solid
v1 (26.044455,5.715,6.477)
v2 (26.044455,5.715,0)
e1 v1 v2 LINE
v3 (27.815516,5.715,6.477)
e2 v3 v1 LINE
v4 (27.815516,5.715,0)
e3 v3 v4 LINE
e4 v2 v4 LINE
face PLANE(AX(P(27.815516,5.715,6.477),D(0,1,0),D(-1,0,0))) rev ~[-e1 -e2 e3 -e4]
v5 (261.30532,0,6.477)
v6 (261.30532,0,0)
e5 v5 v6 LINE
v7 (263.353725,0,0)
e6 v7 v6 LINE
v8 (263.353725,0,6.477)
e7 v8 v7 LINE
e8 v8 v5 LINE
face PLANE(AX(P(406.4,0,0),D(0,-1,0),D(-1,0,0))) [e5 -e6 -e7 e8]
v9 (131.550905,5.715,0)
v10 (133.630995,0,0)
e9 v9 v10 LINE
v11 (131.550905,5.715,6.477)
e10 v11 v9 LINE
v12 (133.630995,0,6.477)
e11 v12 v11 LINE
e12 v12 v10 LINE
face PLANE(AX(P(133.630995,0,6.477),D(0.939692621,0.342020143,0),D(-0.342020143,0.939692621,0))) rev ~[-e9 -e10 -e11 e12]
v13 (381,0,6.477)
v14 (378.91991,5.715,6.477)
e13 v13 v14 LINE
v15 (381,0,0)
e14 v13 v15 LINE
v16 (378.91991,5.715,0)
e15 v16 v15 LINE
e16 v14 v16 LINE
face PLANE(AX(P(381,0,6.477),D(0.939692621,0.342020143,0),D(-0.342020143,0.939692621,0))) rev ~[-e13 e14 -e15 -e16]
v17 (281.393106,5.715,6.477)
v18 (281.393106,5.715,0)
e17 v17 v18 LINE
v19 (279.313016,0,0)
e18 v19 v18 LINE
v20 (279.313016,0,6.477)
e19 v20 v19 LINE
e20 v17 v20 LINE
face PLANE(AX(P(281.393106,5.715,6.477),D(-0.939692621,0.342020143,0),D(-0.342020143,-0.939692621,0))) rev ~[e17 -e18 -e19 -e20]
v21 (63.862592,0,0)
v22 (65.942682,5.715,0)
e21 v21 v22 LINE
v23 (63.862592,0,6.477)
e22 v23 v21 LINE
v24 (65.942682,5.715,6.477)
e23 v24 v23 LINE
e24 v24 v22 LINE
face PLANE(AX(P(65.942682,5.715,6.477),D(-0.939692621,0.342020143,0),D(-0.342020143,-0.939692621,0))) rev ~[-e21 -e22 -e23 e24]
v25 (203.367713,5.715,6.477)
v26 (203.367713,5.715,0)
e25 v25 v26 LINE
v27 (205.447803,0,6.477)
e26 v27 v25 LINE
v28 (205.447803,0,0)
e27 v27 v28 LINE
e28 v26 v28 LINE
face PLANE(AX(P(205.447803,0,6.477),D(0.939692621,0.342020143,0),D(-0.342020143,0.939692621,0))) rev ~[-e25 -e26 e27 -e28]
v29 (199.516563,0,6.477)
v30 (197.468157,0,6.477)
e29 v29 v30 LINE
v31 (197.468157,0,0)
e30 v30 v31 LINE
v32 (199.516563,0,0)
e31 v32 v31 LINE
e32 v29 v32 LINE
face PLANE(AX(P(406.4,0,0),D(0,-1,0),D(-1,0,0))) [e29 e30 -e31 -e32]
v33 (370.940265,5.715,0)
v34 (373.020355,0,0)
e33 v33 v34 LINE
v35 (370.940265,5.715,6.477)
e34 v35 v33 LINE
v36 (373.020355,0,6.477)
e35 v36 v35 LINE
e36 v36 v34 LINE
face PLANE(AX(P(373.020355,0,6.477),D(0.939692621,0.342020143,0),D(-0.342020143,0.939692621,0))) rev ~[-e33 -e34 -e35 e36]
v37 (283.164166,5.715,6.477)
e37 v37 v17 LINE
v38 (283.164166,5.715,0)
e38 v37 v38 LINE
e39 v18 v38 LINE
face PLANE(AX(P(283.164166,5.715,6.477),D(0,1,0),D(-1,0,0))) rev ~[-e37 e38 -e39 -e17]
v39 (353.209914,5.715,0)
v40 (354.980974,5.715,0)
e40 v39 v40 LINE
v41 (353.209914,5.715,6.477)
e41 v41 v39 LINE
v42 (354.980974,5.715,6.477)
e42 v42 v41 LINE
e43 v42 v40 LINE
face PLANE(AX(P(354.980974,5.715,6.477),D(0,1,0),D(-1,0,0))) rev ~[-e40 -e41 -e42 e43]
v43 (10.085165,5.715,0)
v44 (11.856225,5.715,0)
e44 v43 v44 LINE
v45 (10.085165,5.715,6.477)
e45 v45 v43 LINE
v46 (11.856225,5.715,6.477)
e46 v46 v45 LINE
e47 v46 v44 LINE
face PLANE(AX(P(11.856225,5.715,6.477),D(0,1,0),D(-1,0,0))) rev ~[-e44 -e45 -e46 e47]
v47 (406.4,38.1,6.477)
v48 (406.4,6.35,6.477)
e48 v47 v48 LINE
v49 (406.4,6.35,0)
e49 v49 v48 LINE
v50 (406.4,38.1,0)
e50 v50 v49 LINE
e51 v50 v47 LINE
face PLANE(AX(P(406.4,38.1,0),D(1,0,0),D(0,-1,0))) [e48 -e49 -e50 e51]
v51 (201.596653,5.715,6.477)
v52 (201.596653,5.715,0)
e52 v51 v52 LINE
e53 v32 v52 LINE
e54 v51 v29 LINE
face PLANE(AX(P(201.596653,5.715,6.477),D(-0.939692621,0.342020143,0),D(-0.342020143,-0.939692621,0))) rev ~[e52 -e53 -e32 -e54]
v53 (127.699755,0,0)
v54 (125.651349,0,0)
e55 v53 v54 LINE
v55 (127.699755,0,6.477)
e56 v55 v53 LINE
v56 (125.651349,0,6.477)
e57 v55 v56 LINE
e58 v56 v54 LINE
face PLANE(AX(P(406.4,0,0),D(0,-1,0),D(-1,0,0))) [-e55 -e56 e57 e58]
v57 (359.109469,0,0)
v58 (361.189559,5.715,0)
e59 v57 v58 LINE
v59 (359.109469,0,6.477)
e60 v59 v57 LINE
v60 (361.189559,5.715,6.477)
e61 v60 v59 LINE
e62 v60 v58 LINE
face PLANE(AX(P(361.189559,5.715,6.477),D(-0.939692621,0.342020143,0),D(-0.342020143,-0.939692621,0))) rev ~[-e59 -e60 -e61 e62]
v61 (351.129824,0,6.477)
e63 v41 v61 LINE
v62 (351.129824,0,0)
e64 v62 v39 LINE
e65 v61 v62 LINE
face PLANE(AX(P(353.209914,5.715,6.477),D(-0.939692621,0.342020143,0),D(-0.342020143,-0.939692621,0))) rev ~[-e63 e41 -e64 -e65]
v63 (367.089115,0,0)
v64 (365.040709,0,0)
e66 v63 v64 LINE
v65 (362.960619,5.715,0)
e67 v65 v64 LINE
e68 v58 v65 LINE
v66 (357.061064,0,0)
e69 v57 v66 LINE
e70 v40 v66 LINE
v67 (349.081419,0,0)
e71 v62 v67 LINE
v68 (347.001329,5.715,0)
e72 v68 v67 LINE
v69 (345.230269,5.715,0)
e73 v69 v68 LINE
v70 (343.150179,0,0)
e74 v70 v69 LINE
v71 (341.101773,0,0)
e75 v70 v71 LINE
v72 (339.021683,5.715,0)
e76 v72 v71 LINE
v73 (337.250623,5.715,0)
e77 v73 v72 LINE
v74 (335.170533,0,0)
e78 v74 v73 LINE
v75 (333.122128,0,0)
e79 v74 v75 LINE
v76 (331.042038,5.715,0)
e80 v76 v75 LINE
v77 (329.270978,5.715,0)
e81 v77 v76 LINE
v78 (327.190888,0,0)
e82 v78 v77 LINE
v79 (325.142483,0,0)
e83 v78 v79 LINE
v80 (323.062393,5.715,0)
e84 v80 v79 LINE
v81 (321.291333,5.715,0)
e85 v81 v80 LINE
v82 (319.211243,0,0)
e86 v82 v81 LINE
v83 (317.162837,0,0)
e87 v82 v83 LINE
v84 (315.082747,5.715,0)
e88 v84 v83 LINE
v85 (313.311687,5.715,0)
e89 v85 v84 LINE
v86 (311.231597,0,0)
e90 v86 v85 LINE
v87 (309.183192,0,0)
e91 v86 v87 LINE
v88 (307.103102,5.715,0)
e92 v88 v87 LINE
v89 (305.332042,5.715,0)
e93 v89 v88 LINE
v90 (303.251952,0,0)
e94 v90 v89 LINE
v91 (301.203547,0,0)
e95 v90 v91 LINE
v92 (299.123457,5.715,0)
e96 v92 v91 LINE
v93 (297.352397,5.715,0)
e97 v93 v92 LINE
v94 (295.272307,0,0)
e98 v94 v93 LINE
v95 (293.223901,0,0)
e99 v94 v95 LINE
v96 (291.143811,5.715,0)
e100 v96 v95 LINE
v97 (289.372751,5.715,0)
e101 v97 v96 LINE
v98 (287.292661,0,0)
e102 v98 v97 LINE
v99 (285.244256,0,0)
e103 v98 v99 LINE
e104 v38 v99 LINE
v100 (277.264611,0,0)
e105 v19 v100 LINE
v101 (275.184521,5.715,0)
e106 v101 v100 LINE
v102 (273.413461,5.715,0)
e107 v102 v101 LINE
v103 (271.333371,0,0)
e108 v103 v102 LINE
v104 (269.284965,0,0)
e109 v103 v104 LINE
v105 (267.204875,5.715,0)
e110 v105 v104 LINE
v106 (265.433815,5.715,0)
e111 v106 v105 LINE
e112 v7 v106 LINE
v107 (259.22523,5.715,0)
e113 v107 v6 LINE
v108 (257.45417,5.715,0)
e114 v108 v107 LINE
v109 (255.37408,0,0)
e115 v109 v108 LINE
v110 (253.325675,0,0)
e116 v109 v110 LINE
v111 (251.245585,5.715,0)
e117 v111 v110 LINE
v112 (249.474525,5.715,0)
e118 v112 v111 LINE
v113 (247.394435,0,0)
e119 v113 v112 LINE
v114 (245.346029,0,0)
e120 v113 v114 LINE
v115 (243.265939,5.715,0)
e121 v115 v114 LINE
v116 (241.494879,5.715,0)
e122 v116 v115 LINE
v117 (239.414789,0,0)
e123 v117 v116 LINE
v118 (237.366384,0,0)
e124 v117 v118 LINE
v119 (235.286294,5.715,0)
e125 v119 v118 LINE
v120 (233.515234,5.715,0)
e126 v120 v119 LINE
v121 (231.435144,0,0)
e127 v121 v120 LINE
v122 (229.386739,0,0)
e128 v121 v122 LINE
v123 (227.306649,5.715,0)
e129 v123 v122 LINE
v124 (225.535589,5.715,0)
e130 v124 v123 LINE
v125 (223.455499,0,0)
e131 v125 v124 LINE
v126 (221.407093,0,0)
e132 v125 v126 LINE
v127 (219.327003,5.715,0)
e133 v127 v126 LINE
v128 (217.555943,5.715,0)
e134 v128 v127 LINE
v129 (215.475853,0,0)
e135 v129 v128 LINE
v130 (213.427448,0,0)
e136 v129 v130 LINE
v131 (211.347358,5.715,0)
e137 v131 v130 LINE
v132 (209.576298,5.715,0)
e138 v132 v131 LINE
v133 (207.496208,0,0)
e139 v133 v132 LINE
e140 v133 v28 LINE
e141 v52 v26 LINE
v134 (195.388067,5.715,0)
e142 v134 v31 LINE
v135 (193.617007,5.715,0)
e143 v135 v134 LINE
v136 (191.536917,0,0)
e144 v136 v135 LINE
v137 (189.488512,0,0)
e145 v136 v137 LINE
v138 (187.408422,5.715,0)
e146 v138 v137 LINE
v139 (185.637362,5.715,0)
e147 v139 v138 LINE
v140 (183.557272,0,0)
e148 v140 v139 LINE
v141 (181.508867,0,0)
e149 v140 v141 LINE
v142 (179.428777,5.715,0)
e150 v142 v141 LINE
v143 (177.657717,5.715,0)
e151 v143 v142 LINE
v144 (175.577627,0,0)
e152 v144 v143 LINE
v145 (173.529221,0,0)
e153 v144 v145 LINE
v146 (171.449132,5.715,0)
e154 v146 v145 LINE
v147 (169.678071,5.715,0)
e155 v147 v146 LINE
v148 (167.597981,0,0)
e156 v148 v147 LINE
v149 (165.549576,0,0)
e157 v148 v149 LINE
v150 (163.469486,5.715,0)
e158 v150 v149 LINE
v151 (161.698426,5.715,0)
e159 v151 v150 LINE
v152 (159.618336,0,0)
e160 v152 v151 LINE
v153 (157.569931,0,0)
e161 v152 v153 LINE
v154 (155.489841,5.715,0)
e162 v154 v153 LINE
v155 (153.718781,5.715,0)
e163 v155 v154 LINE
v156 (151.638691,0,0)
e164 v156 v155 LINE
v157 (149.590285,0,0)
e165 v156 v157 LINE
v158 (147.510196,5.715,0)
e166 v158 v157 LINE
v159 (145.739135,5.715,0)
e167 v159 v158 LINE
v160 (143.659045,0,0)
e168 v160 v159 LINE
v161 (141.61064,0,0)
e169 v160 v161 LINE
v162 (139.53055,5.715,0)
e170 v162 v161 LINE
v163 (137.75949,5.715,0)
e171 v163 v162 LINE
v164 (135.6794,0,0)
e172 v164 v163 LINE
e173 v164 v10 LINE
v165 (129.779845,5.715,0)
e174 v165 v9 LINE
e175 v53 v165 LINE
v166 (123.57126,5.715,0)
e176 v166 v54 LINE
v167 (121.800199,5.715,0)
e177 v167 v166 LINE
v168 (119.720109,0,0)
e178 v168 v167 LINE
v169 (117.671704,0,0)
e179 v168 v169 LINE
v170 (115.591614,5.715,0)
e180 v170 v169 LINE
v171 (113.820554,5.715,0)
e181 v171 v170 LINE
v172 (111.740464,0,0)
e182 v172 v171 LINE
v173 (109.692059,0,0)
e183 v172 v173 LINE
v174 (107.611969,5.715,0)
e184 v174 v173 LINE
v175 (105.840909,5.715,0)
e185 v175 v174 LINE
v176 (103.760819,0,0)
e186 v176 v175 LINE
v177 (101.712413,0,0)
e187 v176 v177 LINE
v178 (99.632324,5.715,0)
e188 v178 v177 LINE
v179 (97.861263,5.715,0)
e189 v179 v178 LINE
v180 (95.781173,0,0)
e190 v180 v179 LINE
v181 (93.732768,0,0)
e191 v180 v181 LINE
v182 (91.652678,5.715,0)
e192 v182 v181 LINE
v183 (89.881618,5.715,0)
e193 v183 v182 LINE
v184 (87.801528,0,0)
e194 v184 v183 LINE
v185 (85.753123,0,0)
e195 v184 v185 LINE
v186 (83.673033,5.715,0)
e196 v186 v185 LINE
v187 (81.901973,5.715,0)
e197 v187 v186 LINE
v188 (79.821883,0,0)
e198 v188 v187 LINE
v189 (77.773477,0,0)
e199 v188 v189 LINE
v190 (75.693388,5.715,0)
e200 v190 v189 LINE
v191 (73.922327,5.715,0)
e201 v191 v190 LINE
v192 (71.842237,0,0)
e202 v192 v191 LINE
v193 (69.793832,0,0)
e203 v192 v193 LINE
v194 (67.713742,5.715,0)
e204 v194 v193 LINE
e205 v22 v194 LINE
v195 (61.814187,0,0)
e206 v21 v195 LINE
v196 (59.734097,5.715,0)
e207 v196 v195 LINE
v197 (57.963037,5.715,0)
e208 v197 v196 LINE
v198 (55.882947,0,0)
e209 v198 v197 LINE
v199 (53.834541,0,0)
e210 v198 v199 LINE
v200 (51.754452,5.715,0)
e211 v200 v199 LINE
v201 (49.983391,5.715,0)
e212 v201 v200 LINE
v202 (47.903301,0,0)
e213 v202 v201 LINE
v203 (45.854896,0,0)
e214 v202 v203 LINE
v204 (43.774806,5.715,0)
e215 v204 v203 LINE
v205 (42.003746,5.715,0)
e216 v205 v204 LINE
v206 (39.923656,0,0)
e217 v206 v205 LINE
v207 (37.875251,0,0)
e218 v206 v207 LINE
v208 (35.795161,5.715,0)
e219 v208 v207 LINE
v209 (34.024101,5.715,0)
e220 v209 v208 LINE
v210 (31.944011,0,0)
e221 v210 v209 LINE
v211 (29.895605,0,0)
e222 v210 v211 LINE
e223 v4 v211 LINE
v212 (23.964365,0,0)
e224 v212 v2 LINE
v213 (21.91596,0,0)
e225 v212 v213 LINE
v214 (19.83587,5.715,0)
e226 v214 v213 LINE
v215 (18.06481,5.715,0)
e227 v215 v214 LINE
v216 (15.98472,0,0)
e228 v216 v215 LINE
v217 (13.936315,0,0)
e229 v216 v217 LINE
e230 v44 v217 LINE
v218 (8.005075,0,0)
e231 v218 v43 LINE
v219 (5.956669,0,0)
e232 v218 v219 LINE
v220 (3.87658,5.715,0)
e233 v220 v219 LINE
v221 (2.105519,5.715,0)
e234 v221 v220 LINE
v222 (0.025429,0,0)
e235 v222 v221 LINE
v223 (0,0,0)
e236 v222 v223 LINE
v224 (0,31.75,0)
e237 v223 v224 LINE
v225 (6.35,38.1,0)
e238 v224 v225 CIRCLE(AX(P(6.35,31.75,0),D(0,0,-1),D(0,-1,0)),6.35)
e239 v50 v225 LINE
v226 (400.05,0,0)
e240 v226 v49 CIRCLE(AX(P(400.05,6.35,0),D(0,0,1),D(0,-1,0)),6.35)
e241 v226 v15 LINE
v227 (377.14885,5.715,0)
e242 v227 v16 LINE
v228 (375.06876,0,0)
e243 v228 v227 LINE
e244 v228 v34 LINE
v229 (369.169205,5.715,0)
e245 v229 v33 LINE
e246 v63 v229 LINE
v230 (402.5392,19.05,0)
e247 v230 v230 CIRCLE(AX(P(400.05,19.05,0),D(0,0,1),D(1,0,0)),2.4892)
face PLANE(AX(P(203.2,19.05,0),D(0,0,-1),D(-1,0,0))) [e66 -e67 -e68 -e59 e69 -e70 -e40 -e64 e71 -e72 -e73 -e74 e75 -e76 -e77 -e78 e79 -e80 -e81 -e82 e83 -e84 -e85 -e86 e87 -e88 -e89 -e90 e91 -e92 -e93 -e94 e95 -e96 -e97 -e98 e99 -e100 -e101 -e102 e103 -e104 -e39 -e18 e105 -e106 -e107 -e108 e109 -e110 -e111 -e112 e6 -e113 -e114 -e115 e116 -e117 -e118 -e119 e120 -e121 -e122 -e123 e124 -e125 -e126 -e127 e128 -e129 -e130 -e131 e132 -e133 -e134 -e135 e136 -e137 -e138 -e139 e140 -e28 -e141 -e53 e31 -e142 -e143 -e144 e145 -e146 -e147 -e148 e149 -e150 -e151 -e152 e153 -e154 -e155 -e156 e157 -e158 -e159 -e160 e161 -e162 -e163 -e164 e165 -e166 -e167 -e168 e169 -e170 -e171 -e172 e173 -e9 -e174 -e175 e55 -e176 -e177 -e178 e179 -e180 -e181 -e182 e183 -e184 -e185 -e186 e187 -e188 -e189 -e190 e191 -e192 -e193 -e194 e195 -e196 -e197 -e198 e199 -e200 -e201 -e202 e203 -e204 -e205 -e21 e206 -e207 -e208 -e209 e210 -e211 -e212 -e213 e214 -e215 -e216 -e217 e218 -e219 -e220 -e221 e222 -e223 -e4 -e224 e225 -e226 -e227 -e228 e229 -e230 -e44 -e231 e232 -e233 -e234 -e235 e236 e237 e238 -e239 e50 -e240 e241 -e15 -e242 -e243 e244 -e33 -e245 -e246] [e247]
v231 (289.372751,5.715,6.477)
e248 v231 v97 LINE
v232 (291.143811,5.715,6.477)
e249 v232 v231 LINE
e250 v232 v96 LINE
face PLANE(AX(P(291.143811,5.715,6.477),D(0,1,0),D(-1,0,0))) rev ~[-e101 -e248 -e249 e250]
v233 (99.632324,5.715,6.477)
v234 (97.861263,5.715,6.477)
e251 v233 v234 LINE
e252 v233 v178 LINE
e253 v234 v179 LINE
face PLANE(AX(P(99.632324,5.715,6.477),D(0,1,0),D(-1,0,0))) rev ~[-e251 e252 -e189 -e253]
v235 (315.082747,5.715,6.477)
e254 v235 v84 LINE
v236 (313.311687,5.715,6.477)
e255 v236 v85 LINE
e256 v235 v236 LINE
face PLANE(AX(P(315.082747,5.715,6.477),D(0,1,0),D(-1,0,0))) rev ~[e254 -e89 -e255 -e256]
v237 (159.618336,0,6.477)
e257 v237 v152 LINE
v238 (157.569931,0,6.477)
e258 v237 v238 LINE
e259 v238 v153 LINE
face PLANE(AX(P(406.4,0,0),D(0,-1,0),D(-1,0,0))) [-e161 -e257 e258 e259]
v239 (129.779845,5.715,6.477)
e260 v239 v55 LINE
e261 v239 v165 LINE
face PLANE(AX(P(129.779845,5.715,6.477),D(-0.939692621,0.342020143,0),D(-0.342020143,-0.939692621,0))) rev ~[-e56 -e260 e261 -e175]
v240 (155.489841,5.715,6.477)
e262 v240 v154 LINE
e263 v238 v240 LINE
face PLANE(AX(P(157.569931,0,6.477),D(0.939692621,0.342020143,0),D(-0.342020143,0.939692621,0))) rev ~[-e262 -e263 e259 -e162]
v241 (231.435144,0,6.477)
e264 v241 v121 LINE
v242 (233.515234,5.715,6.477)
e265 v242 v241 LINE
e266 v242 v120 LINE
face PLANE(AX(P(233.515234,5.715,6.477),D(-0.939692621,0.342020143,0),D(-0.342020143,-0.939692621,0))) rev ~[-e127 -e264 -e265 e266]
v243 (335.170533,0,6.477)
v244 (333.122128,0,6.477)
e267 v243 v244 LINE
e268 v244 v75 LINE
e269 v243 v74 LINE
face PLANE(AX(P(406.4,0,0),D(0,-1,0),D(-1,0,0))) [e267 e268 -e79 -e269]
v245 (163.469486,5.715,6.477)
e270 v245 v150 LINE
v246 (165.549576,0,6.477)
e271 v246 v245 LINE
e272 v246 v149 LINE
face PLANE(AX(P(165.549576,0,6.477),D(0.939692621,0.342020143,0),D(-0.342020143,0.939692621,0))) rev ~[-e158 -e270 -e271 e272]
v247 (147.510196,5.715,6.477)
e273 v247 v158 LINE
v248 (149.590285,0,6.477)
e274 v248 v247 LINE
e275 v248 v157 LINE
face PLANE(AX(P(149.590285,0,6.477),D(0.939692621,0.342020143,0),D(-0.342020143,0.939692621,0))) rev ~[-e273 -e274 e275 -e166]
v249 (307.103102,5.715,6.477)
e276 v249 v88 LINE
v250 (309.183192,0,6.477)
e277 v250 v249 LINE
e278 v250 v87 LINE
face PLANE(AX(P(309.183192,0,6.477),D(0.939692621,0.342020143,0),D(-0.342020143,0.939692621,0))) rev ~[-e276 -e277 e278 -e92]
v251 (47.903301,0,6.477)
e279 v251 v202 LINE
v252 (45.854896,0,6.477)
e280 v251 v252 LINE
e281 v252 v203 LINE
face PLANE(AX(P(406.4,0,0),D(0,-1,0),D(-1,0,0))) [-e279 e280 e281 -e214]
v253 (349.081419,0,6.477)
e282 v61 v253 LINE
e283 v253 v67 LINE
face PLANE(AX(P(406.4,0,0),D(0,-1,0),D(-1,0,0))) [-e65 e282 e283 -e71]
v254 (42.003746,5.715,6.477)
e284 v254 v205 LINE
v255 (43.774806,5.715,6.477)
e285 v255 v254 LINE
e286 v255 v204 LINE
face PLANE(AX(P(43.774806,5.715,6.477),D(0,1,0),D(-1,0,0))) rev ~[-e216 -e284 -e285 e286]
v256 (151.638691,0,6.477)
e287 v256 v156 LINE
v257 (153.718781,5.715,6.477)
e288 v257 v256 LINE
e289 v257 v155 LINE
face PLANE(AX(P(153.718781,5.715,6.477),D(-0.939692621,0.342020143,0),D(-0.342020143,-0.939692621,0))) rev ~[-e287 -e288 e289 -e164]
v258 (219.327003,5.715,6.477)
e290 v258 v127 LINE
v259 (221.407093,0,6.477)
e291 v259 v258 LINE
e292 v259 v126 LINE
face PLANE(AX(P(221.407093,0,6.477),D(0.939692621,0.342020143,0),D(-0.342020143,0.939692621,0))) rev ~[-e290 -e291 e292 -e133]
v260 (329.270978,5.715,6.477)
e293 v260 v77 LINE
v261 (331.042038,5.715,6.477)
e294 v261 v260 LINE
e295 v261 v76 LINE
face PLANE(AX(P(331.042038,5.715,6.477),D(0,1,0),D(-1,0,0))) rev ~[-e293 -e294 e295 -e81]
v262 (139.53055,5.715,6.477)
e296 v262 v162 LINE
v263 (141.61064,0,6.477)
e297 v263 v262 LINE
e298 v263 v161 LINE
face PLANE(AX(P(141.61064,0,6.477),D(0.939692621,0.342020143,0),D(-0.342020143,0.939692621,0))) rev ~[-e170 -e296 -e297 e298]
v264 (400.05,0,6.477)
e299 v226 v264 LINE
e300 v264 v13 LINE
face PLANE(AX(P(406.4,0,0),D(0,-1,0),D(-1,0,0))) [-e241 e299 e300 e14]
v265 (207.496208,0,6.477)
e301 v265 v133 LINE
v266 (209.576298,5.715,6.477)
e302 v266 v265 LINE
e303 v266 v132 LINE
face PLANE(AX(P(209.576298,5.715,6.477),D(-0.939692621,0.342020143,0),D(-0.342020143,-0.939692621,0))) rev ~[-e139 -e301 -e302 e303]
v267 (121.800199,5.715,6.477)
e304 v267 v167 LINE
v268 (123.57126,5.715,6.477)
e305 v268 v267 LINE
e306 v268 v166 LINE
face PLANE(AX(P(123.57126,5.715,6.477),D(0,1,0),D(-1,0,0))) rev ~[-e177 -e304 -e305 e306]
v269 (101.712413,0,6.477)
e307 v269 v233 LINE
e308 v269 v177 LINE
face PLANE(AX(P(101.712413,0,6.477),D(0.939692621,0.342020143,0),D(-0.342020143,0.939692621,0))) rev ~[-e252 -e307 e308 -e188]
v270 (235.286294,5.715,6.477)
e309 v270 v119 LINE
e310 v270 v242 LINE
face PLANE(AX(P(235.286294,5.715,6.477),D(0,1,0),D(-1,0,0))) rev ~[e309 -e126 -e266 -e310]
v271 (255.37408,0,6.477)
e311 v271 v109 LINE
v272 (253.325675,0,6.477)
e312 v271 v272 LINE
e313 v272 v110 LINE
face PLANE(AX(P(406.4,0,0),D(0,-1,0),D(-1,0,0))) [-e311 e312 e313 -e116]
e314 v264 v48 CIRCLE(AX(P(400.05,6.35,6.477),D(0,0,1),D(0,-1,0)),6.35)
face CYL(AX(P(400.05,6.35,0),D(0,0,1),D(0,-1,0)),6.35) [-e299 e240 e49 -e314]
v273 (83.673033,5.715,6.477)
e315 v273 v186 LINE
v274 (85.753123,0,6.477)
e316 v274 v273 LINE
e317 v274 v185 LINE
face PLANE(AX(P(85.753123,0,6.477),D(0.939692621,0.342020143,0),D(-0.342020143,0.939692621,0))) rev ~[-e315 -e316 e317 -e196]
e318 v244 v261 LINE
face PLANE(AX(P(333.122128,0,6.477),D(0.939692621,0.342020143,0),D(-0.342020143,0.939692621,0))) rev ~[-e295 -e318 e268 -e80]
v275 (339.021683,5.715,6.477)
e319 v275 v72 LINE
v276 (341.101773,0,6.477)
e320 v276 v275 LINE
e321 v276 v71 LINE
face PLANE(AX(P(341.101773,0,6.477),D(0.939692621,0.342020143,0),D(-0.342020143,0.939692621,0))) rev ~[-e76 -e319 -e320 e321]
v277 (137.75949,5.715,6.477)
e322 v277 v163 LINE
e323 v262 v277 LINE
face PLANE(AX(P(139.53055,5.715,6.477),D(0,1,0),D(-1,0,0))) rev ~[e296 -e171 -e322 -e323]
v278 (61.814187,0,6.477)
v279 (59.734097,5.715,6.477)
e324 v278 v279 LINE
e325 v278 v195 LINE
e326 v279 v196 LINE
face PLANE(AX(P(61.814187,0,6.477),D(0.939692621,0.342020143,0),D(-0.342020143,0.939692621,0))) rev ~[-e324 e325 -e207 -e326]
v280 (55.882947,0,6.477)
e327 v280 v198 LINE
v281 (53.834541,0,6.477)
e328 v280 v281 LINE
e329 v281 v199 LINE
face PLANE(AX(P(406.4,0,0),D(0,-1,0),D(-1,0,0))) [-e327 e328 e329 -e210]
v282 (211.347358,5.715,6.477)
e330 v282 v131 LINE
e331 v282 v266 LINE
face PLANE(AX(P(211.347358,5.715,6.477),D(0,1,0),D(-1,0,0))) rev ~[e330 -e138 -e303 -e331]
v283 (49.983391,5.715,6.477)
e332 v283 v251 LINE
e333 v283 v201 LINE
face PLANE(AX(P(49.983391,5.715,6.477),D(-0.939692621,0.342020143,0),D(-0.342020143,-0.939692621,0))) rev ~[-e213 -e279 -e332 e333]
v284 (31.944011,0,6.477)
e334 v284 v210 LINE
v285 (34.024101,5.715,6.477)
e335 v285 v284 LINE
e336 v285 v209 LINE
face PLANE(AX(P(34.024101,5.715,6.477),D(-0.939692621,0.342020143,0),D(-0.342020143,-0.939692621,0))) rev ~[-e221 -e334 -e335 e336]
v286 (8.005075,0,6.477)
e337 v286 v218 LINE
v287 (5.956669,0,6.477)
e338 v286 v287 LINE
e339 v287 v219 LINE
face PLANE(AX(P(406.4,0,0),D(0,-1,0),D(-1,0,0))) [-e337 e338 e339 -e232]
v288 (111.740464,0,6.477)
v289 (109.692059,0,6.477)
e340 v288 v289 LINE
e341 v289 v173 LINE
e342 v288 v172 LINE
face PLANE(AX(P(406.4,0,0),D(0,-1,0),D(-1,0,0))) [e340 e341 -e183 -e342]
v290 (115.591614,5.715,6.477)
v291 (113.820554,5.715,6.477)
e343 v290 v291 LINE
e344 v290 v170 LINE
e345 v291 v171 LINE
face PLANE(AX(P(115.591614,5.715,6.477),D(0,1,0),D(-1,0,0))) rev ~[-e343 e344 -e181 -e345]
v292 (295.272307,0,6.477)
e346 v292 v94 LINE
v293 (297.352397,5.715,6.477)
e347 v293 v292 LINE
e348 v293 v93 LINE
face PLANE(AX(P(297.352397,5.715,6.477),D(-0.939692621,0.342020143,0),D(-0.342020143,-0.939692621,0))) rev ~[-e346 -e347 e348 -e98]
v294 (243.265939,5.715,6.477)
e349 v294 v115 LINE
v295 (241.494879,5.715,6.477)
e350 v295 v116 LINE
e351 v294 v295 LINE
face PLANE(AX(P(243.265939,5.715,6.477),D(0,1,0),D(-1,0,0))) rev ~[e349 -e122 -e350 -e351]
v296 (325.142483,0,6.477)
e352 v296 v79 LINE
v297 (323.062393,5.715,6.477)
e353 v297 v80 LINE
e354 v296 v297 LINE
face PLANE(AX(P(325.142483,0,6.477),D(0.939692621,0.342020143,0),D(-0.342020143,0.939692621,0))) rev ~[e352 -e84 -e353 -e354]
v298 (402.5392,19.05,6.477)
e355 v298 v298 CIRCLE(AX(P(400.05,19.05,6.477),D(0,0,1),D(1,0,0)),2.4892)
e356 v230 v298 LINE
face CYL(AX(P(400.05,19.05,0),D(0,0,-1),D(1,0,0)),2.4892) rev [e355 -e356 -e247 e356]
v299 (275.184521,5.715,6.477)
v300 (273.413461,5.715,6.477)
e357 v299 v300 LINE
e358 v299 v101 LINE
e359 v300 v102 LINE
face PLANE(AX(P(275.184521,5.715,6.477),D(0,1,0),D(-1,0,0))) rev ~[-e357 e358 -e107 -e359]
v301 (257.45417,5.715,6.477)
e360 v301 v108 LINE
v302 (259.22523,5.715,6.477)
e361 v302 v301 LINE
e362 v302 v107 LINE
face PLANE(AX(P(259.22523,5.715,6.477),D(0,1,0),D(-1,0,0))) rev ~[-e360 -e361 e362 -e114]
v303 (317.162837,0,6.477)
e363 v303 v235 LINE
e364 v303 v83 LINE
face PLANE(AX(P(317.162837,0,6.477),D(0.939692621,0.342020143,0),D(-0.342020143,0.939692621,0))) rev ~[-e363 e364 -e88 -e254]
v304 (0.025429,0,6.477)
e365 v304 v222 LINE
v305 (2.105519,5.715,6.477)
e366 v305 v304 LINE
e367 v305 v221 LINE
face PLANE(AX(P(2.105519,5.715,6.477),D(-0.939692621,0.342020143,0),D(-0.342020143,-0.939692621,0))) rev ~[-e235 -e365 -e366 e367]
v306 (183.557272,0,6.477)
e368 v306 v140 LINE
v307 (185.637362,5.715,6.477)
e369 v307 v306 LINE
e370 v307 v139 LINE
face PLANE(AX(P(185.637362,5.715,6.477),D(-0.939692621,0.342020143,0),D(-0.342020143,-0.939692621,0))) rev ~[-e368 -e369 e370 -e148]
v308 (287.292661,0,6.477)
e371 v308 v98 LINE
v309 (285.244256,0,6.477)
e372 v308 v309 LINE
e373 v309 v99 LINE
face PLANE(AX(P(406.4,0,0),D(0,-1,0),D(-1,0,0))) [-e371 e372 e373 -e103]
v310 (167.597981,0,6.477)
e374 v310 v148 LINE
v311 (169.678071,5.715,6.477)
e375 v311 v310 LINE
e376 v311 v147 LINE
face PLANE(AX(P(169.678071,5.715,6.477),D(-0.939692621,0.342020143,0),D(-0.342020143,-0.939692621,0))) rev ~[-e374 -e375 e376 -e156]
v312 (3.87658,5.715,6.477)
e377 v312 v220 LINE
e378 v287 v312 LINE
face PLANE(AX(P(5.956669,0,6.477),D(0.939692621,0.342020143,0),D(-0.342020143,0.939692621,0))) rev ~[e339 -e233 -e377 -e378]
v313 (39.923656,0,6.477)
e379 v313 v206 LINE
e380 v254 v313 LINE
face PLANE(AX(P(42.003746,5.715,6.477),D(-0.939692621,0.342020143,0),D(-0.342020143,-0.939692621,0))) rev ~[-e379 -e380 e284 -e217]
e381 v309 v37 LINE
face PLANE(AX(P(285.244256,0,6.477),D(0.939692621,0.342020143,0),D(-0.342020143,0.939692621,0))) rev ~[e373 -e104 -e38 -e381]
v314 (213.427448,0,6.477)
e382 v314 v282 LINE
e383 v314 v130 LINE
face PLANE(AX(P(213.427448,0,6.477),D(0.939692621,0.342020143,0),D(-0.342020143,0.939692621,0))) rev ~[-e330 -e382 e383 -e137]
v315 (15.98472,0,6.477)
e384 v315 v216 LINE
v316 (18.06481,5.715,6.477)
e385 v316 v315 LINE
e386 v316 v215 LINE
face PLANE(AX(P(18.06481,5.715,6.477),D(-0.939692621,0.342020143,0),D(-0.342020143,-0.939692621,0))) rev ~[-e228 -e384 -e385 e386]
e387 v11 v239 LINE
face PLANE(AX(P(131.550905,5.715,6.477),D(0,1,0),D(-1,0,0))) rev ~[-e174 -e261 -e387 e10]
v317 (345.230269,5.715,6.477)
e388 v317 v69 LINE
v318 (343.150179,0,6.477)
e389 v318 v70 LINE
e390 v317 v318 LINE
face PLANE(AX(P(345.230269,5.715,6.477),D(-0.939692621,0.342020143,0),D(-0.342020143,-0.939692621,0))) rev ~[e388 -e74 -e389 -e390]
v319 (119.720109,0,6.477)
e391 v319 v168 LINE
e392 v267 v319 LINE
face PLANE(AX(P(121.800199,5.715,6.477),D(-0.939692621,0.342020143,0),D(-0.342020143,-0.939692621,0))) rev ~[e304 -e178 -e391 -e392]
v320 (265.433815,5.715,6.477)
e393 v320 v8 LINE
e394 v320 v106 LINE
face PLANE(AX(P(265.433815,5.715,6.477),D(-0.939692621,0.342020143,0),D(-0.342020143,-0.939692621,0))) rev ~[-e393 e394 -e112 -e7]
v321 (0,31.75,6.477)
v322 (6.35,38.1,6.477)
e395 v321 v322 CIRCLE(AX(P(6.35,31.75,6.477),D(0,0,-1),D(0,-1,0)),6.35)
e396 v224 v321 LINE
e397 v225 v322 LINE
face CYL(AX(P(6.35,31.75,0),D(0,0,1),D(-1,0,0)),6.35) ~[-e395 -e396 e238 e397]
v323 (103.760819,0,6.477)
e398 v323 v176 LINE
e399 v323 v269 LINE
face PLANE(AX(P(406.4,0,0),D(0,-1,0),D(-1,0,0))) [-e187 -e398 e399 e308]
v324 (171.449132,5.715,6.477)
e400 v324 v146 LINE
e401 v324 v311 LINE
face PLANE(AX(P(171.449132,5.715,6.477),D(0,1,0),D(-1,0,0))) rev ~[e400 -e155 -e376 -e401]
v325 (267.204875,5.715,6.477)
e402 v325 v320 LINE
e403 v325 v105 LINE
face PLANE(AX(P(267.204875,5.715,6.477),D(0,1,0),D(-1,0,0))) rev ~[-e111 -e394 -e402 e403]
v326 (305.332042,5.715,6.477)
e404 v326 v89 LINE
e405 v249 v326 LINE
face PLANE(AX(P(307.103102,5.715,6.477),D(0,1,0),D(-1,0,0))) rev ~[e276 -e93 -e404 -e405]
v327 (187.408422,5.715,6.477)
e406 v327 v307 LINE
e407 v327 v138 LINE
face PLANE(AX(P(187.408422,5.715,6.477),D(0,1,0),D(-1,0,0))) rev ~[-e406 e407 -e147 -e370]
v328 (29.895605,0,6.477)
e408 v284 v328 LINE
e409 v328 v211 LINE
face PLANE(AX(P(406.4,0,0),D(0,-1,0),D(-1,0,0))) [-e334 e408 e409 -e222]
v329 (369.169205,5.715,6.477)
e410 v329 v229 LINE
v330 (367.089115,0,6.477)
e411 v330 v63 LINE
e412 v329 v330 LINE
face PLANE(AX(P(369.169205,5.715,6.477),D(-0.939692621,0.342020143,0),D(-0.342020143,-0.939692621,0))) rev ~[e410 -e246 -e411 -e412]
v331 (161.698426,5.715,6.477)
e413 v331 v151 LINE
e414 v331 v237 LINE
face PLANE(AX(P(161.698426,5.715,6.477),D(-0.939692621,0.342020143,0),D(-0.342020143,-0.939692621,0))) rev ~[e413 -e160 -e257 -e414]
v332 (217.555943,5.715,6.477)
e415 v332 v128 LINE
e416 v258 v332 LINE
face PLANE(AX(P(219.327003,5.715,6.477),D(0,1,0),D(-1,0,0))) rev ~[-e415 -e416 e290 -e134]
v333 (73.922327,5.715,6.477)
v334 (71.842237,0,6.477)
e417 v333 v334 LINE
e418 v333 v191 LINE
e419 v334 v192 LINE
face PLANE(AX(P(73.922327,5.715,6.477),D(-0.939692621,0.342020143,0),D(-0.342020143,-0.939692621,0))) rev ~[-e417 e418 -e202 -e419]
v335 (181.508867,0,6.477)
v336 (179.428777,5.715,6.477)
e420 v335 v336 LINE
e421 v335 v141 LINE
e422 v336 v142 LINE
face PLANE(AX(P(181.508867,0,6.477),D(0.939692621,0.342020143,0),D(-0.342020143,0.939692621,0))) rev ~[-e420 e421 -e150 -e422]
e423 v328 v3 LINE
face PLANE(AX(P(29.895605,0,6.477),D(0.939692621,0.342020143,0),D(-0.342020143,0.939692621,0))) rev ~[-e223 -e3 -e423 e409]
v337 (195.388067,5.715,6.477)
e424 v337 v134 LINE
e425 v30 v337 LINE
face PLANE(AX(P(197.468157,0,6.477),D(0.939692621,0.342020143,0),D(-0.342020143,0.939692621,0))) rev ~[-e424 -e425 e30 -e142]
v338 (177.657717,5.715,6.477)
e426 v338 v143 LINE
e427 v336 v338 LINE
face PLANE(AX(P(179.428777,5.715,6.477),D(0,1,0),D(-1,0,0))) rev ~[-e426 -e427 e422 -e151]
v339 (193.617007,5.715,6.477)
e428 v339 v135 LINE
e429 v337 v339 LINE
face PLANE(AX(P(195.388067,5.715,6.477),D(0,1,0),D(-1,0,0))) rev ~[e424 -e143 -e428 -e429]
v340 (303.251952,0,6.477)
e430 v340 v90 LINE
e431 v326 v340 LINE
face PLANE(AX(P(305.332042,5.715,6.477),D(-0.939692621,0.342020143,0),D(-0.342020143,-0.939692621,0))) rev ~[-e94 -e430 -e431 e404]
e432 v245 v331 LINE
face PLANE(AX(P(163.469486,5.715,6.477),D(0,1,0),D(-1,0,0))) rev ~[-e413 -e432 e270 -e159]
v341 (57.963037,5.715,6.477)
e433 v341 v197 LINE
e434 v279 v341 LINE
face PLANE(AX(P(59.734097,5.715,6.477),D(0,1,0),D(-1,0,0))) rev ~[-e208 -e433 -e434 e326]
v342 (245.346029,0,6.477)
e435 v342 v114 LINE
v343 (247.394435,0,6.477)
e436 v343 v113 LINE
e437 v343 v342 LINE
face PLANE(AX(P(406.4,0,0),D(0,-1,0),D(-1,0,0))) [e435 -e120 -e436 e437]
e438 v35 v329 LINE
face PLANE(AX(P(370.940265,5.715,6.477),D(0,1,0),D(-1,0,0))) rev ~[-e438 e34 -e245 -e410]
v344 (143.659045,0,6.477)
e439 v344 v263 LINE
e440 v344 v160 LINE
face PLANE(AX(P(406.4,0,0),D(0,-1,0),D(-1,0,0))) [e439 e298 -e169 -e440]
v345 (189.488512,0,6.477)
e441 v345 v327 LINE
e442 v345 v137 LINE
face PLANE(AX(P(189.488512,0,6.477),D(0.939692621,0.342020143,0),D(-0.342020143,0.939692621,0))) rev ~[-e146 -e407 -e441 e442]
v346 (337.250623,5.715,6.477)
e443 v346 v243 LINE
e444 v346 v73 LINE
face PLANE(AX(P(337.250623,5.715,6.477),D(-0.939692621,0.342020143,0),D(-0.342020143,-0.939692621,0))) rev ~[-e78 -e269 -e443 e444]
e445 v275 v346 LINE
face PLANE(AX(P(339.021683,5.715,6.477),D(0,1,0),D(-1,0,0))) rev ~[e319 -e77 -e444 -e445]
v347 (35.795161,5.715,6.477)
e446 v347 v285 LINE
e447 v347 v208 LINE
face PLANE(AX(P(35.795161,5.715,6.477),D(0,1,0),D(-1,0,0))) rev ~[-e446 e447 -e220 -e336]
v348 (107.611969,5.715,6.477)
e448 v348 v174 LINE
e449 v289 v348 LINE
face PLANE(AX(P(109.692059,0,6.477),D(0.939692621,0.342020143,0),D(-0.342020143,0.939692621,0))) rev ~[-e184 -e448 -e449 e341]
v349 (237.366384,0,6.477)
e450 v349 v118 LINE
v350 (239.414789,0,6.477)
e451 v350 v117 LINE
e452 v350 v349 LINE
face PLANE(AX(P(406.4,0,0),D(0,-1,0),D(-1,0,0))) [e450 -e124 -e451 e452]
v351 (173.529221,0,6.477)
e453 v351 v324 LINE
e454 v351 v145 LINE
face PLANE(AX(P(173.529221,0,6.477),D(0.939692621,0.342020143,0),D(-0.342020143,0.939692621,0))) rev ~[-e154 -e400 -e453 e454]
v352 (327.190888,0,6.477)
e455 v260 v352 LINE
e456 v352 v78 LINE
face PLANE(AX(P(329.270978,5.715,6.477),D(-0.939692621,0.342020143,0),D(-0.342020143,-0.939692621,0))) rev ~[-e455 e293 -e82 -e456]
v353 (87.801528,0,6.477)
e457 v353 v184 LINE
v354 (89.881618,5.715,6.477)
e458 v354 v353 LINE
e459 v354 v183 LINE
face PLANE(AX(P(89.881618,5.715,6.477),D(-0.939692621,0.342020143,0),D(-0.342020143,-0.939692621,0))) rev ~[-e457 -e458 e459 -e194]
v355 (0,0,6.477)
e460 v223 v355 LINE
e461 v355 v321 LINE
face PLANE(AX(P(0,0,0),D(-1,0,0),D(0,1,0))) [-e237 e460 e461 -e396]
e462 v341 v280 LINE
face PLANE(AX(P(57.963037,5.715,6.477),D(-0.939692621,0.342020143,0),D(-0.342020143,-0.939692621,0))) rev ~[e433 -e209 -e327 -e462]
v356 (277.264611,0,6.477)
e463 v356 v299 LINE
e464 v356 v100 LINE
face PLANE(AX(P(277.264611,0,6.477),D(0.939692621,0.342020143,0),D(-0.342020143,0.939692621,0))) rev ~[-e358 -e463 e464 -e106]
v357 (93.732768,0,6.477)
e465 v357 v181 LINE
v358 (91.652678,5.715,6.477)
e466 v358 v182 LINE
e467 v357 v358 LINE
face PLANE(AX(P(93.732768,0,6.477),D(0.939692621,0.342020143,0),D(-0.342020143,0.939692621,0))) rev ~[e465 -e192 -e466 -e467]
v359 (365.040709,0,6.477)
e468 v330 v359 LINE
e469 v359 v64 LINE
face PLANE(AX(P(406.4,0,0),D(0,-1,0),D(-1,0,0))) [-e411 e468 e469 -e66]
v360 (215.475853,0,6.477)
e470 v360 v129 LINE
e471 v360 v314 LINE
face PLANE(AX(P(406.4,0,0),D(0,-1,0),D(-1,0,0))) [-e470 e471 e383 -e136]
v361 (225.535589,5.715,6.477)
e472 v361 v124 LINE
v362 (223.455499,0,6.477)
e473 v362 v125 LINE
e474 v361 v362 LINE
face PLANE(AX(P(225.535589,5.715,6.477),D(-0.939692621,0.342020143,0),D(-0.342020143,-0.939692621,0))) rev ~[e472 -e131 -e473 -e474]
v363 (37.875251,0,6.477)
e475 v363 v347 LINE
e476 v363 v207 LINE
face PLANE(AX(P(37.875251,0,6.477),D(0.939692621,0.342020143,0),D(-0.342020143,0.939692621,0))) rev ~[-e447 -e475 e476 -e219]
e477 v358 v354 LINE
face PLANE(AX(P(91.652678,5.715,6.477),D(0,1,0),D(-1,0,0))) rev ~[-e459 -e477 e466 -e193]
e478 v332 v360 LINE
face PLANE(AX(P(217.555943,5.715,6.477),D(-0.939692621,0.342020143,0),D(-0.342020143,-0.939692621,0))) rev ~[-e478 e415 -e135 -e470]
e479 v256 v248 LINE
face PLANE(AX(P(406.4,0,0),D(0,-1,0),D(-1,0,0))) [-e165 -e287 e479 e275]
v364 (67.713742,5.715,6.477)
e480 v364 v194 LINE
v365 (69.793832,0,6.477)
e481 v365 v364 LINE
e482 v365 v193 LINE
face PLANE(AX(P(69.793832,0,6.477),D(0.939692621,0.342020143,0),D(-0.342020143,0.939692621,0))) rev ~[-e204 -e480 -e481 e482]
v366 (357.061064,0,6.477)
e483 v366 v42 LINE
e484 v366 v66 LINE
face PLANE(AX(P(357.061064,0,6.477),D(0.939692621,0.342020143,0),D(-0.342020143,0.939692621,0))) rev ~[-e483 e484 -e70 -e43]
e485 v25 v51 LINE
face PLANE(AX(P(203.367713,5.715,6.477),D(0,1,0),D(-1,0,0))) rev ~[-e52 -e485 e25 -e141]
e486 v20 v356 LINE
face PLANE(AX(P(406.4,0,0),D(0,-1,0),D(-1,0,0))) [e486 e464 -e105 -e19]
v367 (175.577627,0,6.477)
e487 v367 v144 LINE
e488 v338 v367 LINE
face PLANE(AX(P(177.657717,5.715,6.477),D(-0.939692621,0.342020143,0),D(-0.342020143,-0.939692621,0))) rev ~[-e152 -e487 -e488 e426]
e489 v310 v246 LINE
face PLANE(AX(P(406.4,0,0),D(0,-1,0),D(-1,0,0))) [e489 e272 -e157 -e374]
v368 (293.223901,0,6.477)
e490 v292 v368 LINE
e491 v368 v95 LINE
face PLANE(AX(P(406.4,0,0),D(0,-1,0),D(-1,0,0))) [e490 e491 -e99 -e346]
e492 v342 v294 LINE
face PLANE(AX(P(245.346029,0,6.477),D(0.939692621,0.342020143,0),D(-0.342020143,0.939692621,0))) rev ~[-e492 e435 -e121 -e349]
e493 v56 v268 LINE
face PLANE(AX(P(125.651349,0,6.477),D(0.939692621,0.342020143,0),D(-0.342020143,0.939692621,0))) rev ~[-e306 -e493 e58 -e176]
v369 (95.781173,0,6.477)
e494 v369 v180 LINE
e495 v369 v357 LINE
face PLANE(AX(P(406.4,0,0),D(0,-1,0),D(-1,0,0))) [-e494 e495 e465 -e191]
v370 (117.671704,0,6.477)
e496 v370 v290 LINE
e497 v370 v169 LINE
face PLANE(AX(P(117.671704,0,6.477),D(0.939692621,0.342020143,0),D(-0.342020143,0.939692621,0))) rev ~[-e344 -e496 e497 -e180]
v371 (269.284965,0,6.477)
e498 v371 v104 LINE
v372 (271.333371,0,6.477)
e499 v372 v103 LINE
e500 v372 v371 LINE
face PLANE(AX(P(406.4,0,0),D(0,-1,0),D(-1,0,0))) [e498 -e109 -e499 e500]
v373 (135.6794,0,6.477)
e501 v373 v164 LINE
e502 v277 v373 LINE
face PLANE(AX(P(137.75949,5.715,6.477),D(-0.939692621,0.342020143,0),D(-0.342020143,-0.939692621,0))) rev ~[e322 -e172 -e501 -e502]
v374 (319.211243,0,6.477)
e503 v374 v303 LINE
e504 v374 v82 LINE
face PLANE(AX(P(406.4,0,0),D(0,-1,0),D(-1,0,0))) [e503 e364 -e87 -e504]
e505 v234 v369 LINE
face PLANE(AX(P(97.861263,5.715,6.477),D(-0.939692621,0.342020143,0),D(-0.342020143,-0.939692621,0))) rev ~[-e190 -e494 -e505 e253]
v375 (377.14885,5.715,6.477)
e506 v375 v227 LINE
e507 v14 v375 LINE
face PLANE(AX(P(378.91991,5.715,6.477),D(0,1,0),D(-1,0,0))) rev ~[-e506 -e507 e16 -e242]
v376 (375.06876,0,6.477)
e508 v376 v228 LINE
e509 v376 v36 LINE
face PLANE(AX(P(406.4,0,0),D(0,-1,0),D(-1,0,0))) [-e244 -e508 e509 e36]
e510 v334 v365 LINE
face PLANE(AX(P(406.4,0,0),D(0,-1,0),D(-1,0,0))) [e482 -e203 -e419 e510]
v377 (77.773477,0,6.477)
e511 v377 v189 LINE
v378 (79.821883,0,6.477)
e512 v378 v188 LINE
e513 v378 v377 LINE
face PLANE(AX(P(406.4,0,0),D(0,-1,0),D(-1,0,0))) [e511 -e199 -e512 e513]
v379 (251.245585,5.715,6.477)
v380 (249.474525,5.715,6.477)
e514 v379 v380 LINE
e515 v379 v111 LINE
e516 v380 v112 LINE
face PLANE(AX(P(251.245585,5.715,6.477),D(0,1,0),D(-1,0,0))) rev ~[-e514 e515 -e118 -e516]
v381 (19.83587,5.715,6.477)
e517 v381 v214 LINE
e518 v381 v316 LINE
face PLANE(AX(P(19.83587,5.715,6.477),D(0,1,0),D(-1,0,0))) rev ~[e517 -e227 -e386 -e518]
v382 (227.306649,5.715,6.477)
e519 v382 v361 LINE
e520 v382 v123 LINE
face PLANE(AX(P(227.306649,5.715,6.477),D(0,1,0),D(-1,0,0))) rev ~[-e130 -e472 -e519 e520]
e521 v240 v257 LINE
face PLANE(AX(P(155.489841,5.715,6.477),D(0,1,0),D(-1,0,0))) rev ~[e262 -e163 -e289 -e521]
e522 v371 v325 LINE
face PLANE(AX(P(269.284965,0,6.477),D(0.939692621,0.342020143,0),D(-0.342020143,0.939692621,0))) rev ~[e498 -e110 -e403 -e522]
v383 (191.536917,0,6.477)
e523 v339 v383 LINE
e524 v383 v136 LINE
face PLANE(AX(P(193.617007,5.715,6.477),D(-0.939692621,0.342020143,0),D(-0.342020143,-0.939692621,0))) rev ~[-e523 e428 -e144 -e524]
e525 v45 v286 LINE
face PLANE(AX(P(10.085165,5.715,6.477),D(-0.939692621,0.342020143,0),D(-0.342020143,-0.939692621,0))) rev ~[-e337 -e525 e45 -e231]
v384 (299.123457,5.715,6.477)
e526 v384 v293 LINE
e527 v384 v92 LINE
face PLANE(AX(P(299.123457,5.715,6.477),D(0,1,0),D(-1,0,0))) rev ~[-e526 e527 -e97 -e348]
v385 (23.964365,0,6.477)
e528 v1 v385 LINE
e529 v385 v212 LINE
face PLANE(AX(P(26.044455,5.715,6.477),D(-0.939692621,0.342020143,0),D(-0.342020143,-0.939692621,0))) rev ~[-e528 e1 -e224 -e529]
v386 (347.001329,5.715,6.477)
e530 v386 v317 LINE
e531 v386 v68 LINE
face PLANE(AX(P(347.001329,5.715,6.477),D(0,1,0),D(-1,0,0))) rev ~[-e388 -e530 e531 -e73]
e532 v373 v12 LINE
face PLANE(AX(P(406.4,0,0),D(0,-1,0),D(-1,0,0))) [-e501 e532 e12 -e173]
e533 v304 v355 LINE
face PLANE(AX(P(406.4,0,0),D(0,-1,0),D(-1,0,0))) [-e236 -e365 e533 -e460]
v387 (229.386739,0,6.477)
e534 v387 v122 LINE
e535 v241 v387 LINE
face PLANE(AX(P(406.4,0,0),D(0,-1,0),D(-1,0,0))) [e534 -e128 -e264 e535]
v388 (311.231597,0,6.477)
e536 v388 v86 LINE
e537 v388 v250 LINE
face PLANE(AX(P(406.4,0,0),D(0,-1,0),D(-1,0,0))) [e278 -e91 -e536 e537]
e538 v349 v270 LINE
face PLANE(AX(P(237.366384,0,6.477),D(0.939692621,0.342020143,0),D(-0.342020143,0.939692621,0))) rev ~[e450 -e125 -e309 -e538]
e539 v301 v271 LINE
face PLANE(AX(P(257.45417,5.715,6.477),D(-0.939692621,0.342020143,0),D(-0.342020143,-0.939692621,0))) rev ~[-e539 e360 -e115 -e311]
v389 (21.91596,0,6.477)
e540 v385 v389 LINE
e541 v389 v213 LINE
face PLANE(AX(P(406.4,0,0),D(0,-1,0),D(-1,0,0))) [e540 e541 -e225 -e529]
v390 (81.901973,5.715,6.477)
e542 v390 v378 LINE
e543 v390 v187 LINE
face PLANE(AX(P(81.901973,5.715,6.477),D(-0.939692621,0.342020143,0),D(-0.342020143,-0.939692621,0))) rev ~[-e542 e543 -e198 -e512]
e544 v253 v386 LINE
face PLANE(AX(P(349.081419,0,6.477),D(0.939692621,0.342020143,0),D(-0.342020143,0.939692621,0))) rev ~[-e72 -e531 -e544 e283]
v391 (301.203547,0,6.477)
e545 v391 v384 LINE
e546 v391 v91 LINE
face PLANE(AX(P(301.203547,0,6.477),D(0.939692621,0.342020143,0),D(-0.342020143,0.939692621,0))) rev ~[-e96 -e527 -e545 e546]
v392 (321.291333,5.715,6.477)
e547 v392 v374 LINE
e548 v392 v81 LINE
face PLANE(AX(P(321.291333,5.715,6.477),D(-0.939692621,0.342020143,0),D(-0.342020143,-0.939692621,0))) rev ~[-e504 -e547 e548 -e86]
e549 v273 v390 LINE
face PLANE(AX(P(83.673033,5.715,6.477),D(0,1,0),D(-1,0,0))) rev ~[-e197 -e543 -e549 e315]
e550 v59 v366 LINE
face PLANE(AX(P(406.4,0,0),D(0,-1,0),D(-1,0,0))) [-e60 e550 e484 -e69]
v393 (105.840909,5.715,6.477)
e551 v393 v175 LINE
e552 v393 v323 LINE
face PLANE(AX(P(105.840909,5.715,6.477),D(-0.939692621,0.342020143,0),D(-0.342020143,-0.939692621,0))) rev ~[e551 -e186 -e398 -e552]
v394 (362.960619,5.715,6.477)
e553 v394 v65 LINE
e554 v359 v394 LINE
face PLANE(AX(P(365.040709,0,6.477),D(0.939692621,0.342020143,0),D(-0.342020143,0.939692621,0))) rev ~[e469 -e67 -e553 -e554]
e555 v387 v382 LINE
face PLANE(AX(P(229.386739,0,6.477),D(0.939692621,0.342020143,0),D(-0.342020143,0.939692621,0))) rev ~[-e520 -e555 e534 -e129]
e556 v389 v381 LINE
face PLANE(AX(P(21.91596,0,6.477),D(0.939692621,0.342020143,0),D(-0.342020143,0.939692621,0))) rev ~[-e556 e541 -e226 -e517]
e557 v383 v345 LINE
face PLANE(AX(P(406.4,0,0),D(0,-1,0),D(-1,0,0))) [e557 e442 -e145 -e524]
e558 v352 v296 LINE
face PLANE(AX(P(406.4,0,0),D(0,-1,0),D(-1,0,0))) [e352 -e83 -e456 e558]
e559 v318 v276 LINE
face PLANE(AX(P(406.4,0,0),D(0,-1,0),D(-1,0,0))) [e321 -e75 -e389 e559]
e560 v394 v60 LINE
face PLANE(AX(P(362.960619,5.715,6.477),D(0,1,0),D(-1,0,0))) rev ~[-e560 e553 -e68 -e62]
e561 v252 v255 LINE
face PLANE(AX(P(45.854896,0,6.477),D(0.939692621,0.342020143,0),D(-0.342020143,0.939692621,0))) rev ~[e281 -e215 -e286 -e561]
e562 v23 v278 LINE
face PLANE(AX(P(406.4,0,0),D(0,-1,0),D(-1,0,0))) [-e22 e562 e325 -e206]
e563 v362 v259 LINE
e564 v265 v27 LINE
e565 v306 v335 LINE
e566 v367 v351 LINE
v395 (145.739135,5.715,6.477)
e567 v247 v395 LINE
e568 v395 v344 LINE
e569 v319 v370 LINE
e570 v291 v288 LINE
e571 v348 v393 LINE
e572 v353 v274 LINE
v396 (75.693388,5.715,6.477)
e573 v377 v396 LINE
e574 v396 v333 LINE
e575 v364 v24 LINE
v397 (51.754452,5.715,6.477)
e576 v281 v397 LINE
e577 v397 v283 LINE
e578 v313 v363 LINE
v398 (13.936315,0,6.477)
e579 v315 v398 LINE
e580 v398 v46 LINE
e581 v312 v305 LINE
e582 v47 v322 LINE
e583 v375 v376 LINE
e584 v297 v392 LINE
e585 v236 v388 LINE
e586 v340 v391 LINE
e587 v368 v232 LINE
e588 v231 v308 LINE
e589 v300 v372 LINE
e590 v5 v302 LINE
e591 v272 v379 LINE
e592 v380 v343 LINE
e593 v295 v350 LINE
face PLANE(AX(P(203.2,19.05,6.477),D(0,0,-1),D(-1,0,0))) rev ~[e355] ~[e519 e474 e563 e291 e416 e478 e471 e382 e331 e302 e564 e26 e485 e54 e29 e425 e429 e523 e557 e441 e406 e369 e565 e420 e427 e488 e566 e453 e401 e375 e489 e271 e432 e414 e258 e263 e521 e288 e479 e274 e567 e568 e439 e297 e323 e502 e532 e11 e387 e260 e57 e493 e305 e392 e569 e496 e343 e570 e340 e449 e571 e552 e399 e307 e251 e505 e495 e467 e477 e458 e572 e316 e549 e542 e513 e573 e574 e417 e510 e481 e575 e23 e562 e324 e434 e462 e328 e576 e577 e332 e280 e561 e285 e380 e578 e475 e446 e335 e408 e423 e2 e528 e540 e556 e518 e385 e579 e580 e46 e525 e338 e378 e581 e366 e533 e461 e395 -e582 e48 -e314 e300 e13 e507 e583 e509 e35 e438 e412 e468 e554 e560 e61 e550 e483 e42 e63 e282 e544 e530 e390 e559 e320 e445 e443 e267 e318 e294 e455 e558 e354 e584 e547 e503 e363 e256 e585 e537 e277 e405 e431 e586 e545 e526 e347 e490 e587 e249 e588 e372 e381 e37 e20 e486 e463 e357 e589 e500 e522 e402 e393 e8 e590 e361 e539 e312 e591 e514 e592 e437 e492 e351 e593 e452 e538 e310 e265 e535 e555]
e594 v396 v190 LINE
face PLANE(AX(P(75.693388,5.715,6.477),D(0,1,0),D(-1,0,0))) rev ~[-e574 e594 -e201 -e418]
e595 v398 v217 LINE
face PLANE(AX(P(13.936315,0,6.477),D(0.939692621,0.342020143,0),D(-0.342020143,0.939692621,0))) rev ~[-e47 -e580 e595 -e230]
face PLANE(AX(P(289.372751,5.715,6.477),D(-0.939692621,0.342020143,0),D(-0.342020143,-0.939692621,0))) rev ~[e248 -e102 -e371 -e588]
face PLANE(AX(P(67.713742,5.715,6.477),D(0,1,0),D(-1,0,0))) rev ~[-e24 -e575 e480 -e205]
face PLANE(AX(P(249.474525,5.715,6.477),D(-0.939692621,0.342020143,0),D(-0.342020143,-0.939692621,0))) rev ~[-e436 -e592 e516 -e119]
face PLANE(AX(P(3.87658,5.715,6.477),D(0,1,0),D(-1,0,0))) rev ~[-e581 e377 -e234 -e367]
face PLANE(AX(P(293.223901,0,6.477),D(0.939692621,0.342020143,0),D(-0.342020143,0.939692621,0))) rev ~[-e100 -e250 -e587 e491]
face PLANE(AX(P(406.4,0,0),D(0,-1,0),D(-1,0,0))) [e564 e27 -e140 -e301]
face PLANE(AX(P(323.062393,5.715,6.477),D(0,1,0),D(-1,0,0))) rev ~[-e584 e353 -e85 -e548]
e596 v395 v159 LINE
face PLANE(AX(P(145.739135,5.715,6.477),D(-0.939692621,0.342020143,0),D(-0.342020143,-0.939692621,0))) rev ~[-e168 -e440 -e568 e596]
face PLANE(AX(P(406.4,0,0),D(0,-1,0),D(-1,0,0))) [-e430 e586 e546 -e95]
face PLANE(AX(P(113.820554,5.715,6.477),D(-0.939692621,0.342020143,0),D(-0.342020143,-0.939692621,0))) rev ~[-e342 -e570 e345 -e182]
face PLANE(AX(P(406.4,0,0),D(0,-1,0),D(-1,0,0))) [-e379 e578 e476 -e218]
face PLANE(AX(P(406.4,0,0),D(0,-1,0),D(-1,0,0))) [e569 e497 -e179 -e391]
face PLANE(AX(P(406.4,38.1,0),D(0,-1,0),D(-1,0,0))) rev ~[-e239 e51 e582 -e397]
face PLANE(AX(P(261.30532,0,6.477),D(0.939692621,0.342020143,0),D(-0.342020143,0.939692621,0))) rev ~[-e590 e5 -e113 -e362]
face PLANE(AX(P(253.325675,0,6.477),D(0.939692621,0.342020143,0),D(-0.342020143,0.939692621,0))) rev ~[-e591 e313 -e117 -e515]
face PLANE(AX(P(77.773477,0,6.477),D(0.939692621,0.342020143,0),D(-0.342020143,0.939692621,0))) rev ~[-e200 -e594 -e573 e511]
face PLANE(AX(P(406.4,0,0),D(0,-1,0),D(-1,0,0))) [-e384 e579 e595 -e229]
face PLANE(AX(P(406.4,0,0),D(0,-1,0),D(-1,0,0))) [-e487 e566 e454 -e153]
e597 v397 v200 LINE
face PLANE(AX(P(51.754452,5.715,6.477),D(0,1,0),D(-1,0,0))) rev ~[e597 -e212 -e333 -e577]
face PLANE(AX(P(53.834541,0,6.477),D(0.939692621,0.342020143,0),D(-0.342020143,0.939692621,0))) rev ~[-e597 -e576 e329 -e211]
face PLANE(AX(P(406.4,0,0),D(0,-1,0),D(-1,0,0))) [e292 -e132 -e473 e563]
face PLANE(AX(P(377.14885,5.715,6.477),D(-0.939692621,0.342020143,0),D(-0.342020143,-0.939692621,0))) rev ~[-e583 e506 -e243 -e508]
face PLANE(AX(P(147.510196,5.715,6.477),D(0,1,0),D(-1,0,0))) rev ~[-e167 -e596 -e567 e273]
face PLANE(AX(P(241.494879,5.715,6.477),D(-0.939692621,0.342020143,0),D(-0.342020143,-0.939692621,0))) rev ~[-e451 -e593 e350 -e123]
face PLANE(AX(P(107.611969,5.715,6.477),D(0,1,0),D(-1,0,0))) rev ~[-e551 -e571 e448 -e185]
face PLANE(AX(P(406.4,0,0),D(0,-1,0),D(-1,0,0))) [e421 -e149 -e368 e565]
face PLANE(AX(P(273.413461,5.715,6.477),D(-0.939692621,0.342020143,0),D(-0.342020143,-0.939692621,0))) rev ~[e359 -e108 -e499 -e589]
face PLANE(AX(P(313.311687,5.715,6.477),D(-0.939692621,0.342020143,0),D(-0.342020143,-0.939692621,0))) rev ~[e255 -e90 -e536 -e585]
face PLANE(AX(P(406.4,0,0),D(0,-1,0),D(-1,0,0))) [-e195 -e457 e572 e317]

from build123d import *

# Parameters (mm, degrees)
SKETCH1_R           = 2.4892
BOSS_EXTRUDE1_DEPTH = 6.477
FILLET2_R           = 6.35
CUT_EXTRUDE1_DEPTH  = 409.233415498
LPATTERN1_COUNT     = 61
LPATTERN1_PITCH     = 7.979645331


with BuildPart() as part:
    # Sketch1 → Boss-Extrude1 (new body)
    with BuildSketch(Plane.XY):
        Polygon((0, 0), (0, 38.1), (40.53078, 38.1), (406.4, 38.1), (406.4, 0), align=None)
        with Locations((400.05, 19.05)):
            Circle(SKETCH1_R, mode=Mode.SUBTRACT)
    extrude(amount=BOSS_EXTRUDE1_DEPTH)

    # Fillet2
    fillet2_edges = [part.edges().sort_by_distance(p)[0] for p in [
        (0, 38.1, 3.2385),
        (406.4, 0, 3.2385),
    ]]
    fillet(fillet2_edges, radius=FILLET2_R)

    # Sketch2 → Cut-Extrude1 (cut, through all)
    with BuildSketch(Plane.XY.offset(6.477)):
        Polygon((375.06876001, 0), (381, 0), (378.919910111, 5.715), (377.148849899, 5.715), align=None)
    cut_extrude1 = extrude(amount=-CUT_EXTRUDE1_DEPTH, mode=Mode.SUBTRACT)

    # LPattern1: Cut-Extrude1 ×61
    with Locations(*[(-i * LPATTERN1_PITCH, 0, 0) for i in range(1, LPATTERN1_COUNT)]):
        add(cut_extrude1, mode=Mode.SUBTRACT)


solid = part.part
